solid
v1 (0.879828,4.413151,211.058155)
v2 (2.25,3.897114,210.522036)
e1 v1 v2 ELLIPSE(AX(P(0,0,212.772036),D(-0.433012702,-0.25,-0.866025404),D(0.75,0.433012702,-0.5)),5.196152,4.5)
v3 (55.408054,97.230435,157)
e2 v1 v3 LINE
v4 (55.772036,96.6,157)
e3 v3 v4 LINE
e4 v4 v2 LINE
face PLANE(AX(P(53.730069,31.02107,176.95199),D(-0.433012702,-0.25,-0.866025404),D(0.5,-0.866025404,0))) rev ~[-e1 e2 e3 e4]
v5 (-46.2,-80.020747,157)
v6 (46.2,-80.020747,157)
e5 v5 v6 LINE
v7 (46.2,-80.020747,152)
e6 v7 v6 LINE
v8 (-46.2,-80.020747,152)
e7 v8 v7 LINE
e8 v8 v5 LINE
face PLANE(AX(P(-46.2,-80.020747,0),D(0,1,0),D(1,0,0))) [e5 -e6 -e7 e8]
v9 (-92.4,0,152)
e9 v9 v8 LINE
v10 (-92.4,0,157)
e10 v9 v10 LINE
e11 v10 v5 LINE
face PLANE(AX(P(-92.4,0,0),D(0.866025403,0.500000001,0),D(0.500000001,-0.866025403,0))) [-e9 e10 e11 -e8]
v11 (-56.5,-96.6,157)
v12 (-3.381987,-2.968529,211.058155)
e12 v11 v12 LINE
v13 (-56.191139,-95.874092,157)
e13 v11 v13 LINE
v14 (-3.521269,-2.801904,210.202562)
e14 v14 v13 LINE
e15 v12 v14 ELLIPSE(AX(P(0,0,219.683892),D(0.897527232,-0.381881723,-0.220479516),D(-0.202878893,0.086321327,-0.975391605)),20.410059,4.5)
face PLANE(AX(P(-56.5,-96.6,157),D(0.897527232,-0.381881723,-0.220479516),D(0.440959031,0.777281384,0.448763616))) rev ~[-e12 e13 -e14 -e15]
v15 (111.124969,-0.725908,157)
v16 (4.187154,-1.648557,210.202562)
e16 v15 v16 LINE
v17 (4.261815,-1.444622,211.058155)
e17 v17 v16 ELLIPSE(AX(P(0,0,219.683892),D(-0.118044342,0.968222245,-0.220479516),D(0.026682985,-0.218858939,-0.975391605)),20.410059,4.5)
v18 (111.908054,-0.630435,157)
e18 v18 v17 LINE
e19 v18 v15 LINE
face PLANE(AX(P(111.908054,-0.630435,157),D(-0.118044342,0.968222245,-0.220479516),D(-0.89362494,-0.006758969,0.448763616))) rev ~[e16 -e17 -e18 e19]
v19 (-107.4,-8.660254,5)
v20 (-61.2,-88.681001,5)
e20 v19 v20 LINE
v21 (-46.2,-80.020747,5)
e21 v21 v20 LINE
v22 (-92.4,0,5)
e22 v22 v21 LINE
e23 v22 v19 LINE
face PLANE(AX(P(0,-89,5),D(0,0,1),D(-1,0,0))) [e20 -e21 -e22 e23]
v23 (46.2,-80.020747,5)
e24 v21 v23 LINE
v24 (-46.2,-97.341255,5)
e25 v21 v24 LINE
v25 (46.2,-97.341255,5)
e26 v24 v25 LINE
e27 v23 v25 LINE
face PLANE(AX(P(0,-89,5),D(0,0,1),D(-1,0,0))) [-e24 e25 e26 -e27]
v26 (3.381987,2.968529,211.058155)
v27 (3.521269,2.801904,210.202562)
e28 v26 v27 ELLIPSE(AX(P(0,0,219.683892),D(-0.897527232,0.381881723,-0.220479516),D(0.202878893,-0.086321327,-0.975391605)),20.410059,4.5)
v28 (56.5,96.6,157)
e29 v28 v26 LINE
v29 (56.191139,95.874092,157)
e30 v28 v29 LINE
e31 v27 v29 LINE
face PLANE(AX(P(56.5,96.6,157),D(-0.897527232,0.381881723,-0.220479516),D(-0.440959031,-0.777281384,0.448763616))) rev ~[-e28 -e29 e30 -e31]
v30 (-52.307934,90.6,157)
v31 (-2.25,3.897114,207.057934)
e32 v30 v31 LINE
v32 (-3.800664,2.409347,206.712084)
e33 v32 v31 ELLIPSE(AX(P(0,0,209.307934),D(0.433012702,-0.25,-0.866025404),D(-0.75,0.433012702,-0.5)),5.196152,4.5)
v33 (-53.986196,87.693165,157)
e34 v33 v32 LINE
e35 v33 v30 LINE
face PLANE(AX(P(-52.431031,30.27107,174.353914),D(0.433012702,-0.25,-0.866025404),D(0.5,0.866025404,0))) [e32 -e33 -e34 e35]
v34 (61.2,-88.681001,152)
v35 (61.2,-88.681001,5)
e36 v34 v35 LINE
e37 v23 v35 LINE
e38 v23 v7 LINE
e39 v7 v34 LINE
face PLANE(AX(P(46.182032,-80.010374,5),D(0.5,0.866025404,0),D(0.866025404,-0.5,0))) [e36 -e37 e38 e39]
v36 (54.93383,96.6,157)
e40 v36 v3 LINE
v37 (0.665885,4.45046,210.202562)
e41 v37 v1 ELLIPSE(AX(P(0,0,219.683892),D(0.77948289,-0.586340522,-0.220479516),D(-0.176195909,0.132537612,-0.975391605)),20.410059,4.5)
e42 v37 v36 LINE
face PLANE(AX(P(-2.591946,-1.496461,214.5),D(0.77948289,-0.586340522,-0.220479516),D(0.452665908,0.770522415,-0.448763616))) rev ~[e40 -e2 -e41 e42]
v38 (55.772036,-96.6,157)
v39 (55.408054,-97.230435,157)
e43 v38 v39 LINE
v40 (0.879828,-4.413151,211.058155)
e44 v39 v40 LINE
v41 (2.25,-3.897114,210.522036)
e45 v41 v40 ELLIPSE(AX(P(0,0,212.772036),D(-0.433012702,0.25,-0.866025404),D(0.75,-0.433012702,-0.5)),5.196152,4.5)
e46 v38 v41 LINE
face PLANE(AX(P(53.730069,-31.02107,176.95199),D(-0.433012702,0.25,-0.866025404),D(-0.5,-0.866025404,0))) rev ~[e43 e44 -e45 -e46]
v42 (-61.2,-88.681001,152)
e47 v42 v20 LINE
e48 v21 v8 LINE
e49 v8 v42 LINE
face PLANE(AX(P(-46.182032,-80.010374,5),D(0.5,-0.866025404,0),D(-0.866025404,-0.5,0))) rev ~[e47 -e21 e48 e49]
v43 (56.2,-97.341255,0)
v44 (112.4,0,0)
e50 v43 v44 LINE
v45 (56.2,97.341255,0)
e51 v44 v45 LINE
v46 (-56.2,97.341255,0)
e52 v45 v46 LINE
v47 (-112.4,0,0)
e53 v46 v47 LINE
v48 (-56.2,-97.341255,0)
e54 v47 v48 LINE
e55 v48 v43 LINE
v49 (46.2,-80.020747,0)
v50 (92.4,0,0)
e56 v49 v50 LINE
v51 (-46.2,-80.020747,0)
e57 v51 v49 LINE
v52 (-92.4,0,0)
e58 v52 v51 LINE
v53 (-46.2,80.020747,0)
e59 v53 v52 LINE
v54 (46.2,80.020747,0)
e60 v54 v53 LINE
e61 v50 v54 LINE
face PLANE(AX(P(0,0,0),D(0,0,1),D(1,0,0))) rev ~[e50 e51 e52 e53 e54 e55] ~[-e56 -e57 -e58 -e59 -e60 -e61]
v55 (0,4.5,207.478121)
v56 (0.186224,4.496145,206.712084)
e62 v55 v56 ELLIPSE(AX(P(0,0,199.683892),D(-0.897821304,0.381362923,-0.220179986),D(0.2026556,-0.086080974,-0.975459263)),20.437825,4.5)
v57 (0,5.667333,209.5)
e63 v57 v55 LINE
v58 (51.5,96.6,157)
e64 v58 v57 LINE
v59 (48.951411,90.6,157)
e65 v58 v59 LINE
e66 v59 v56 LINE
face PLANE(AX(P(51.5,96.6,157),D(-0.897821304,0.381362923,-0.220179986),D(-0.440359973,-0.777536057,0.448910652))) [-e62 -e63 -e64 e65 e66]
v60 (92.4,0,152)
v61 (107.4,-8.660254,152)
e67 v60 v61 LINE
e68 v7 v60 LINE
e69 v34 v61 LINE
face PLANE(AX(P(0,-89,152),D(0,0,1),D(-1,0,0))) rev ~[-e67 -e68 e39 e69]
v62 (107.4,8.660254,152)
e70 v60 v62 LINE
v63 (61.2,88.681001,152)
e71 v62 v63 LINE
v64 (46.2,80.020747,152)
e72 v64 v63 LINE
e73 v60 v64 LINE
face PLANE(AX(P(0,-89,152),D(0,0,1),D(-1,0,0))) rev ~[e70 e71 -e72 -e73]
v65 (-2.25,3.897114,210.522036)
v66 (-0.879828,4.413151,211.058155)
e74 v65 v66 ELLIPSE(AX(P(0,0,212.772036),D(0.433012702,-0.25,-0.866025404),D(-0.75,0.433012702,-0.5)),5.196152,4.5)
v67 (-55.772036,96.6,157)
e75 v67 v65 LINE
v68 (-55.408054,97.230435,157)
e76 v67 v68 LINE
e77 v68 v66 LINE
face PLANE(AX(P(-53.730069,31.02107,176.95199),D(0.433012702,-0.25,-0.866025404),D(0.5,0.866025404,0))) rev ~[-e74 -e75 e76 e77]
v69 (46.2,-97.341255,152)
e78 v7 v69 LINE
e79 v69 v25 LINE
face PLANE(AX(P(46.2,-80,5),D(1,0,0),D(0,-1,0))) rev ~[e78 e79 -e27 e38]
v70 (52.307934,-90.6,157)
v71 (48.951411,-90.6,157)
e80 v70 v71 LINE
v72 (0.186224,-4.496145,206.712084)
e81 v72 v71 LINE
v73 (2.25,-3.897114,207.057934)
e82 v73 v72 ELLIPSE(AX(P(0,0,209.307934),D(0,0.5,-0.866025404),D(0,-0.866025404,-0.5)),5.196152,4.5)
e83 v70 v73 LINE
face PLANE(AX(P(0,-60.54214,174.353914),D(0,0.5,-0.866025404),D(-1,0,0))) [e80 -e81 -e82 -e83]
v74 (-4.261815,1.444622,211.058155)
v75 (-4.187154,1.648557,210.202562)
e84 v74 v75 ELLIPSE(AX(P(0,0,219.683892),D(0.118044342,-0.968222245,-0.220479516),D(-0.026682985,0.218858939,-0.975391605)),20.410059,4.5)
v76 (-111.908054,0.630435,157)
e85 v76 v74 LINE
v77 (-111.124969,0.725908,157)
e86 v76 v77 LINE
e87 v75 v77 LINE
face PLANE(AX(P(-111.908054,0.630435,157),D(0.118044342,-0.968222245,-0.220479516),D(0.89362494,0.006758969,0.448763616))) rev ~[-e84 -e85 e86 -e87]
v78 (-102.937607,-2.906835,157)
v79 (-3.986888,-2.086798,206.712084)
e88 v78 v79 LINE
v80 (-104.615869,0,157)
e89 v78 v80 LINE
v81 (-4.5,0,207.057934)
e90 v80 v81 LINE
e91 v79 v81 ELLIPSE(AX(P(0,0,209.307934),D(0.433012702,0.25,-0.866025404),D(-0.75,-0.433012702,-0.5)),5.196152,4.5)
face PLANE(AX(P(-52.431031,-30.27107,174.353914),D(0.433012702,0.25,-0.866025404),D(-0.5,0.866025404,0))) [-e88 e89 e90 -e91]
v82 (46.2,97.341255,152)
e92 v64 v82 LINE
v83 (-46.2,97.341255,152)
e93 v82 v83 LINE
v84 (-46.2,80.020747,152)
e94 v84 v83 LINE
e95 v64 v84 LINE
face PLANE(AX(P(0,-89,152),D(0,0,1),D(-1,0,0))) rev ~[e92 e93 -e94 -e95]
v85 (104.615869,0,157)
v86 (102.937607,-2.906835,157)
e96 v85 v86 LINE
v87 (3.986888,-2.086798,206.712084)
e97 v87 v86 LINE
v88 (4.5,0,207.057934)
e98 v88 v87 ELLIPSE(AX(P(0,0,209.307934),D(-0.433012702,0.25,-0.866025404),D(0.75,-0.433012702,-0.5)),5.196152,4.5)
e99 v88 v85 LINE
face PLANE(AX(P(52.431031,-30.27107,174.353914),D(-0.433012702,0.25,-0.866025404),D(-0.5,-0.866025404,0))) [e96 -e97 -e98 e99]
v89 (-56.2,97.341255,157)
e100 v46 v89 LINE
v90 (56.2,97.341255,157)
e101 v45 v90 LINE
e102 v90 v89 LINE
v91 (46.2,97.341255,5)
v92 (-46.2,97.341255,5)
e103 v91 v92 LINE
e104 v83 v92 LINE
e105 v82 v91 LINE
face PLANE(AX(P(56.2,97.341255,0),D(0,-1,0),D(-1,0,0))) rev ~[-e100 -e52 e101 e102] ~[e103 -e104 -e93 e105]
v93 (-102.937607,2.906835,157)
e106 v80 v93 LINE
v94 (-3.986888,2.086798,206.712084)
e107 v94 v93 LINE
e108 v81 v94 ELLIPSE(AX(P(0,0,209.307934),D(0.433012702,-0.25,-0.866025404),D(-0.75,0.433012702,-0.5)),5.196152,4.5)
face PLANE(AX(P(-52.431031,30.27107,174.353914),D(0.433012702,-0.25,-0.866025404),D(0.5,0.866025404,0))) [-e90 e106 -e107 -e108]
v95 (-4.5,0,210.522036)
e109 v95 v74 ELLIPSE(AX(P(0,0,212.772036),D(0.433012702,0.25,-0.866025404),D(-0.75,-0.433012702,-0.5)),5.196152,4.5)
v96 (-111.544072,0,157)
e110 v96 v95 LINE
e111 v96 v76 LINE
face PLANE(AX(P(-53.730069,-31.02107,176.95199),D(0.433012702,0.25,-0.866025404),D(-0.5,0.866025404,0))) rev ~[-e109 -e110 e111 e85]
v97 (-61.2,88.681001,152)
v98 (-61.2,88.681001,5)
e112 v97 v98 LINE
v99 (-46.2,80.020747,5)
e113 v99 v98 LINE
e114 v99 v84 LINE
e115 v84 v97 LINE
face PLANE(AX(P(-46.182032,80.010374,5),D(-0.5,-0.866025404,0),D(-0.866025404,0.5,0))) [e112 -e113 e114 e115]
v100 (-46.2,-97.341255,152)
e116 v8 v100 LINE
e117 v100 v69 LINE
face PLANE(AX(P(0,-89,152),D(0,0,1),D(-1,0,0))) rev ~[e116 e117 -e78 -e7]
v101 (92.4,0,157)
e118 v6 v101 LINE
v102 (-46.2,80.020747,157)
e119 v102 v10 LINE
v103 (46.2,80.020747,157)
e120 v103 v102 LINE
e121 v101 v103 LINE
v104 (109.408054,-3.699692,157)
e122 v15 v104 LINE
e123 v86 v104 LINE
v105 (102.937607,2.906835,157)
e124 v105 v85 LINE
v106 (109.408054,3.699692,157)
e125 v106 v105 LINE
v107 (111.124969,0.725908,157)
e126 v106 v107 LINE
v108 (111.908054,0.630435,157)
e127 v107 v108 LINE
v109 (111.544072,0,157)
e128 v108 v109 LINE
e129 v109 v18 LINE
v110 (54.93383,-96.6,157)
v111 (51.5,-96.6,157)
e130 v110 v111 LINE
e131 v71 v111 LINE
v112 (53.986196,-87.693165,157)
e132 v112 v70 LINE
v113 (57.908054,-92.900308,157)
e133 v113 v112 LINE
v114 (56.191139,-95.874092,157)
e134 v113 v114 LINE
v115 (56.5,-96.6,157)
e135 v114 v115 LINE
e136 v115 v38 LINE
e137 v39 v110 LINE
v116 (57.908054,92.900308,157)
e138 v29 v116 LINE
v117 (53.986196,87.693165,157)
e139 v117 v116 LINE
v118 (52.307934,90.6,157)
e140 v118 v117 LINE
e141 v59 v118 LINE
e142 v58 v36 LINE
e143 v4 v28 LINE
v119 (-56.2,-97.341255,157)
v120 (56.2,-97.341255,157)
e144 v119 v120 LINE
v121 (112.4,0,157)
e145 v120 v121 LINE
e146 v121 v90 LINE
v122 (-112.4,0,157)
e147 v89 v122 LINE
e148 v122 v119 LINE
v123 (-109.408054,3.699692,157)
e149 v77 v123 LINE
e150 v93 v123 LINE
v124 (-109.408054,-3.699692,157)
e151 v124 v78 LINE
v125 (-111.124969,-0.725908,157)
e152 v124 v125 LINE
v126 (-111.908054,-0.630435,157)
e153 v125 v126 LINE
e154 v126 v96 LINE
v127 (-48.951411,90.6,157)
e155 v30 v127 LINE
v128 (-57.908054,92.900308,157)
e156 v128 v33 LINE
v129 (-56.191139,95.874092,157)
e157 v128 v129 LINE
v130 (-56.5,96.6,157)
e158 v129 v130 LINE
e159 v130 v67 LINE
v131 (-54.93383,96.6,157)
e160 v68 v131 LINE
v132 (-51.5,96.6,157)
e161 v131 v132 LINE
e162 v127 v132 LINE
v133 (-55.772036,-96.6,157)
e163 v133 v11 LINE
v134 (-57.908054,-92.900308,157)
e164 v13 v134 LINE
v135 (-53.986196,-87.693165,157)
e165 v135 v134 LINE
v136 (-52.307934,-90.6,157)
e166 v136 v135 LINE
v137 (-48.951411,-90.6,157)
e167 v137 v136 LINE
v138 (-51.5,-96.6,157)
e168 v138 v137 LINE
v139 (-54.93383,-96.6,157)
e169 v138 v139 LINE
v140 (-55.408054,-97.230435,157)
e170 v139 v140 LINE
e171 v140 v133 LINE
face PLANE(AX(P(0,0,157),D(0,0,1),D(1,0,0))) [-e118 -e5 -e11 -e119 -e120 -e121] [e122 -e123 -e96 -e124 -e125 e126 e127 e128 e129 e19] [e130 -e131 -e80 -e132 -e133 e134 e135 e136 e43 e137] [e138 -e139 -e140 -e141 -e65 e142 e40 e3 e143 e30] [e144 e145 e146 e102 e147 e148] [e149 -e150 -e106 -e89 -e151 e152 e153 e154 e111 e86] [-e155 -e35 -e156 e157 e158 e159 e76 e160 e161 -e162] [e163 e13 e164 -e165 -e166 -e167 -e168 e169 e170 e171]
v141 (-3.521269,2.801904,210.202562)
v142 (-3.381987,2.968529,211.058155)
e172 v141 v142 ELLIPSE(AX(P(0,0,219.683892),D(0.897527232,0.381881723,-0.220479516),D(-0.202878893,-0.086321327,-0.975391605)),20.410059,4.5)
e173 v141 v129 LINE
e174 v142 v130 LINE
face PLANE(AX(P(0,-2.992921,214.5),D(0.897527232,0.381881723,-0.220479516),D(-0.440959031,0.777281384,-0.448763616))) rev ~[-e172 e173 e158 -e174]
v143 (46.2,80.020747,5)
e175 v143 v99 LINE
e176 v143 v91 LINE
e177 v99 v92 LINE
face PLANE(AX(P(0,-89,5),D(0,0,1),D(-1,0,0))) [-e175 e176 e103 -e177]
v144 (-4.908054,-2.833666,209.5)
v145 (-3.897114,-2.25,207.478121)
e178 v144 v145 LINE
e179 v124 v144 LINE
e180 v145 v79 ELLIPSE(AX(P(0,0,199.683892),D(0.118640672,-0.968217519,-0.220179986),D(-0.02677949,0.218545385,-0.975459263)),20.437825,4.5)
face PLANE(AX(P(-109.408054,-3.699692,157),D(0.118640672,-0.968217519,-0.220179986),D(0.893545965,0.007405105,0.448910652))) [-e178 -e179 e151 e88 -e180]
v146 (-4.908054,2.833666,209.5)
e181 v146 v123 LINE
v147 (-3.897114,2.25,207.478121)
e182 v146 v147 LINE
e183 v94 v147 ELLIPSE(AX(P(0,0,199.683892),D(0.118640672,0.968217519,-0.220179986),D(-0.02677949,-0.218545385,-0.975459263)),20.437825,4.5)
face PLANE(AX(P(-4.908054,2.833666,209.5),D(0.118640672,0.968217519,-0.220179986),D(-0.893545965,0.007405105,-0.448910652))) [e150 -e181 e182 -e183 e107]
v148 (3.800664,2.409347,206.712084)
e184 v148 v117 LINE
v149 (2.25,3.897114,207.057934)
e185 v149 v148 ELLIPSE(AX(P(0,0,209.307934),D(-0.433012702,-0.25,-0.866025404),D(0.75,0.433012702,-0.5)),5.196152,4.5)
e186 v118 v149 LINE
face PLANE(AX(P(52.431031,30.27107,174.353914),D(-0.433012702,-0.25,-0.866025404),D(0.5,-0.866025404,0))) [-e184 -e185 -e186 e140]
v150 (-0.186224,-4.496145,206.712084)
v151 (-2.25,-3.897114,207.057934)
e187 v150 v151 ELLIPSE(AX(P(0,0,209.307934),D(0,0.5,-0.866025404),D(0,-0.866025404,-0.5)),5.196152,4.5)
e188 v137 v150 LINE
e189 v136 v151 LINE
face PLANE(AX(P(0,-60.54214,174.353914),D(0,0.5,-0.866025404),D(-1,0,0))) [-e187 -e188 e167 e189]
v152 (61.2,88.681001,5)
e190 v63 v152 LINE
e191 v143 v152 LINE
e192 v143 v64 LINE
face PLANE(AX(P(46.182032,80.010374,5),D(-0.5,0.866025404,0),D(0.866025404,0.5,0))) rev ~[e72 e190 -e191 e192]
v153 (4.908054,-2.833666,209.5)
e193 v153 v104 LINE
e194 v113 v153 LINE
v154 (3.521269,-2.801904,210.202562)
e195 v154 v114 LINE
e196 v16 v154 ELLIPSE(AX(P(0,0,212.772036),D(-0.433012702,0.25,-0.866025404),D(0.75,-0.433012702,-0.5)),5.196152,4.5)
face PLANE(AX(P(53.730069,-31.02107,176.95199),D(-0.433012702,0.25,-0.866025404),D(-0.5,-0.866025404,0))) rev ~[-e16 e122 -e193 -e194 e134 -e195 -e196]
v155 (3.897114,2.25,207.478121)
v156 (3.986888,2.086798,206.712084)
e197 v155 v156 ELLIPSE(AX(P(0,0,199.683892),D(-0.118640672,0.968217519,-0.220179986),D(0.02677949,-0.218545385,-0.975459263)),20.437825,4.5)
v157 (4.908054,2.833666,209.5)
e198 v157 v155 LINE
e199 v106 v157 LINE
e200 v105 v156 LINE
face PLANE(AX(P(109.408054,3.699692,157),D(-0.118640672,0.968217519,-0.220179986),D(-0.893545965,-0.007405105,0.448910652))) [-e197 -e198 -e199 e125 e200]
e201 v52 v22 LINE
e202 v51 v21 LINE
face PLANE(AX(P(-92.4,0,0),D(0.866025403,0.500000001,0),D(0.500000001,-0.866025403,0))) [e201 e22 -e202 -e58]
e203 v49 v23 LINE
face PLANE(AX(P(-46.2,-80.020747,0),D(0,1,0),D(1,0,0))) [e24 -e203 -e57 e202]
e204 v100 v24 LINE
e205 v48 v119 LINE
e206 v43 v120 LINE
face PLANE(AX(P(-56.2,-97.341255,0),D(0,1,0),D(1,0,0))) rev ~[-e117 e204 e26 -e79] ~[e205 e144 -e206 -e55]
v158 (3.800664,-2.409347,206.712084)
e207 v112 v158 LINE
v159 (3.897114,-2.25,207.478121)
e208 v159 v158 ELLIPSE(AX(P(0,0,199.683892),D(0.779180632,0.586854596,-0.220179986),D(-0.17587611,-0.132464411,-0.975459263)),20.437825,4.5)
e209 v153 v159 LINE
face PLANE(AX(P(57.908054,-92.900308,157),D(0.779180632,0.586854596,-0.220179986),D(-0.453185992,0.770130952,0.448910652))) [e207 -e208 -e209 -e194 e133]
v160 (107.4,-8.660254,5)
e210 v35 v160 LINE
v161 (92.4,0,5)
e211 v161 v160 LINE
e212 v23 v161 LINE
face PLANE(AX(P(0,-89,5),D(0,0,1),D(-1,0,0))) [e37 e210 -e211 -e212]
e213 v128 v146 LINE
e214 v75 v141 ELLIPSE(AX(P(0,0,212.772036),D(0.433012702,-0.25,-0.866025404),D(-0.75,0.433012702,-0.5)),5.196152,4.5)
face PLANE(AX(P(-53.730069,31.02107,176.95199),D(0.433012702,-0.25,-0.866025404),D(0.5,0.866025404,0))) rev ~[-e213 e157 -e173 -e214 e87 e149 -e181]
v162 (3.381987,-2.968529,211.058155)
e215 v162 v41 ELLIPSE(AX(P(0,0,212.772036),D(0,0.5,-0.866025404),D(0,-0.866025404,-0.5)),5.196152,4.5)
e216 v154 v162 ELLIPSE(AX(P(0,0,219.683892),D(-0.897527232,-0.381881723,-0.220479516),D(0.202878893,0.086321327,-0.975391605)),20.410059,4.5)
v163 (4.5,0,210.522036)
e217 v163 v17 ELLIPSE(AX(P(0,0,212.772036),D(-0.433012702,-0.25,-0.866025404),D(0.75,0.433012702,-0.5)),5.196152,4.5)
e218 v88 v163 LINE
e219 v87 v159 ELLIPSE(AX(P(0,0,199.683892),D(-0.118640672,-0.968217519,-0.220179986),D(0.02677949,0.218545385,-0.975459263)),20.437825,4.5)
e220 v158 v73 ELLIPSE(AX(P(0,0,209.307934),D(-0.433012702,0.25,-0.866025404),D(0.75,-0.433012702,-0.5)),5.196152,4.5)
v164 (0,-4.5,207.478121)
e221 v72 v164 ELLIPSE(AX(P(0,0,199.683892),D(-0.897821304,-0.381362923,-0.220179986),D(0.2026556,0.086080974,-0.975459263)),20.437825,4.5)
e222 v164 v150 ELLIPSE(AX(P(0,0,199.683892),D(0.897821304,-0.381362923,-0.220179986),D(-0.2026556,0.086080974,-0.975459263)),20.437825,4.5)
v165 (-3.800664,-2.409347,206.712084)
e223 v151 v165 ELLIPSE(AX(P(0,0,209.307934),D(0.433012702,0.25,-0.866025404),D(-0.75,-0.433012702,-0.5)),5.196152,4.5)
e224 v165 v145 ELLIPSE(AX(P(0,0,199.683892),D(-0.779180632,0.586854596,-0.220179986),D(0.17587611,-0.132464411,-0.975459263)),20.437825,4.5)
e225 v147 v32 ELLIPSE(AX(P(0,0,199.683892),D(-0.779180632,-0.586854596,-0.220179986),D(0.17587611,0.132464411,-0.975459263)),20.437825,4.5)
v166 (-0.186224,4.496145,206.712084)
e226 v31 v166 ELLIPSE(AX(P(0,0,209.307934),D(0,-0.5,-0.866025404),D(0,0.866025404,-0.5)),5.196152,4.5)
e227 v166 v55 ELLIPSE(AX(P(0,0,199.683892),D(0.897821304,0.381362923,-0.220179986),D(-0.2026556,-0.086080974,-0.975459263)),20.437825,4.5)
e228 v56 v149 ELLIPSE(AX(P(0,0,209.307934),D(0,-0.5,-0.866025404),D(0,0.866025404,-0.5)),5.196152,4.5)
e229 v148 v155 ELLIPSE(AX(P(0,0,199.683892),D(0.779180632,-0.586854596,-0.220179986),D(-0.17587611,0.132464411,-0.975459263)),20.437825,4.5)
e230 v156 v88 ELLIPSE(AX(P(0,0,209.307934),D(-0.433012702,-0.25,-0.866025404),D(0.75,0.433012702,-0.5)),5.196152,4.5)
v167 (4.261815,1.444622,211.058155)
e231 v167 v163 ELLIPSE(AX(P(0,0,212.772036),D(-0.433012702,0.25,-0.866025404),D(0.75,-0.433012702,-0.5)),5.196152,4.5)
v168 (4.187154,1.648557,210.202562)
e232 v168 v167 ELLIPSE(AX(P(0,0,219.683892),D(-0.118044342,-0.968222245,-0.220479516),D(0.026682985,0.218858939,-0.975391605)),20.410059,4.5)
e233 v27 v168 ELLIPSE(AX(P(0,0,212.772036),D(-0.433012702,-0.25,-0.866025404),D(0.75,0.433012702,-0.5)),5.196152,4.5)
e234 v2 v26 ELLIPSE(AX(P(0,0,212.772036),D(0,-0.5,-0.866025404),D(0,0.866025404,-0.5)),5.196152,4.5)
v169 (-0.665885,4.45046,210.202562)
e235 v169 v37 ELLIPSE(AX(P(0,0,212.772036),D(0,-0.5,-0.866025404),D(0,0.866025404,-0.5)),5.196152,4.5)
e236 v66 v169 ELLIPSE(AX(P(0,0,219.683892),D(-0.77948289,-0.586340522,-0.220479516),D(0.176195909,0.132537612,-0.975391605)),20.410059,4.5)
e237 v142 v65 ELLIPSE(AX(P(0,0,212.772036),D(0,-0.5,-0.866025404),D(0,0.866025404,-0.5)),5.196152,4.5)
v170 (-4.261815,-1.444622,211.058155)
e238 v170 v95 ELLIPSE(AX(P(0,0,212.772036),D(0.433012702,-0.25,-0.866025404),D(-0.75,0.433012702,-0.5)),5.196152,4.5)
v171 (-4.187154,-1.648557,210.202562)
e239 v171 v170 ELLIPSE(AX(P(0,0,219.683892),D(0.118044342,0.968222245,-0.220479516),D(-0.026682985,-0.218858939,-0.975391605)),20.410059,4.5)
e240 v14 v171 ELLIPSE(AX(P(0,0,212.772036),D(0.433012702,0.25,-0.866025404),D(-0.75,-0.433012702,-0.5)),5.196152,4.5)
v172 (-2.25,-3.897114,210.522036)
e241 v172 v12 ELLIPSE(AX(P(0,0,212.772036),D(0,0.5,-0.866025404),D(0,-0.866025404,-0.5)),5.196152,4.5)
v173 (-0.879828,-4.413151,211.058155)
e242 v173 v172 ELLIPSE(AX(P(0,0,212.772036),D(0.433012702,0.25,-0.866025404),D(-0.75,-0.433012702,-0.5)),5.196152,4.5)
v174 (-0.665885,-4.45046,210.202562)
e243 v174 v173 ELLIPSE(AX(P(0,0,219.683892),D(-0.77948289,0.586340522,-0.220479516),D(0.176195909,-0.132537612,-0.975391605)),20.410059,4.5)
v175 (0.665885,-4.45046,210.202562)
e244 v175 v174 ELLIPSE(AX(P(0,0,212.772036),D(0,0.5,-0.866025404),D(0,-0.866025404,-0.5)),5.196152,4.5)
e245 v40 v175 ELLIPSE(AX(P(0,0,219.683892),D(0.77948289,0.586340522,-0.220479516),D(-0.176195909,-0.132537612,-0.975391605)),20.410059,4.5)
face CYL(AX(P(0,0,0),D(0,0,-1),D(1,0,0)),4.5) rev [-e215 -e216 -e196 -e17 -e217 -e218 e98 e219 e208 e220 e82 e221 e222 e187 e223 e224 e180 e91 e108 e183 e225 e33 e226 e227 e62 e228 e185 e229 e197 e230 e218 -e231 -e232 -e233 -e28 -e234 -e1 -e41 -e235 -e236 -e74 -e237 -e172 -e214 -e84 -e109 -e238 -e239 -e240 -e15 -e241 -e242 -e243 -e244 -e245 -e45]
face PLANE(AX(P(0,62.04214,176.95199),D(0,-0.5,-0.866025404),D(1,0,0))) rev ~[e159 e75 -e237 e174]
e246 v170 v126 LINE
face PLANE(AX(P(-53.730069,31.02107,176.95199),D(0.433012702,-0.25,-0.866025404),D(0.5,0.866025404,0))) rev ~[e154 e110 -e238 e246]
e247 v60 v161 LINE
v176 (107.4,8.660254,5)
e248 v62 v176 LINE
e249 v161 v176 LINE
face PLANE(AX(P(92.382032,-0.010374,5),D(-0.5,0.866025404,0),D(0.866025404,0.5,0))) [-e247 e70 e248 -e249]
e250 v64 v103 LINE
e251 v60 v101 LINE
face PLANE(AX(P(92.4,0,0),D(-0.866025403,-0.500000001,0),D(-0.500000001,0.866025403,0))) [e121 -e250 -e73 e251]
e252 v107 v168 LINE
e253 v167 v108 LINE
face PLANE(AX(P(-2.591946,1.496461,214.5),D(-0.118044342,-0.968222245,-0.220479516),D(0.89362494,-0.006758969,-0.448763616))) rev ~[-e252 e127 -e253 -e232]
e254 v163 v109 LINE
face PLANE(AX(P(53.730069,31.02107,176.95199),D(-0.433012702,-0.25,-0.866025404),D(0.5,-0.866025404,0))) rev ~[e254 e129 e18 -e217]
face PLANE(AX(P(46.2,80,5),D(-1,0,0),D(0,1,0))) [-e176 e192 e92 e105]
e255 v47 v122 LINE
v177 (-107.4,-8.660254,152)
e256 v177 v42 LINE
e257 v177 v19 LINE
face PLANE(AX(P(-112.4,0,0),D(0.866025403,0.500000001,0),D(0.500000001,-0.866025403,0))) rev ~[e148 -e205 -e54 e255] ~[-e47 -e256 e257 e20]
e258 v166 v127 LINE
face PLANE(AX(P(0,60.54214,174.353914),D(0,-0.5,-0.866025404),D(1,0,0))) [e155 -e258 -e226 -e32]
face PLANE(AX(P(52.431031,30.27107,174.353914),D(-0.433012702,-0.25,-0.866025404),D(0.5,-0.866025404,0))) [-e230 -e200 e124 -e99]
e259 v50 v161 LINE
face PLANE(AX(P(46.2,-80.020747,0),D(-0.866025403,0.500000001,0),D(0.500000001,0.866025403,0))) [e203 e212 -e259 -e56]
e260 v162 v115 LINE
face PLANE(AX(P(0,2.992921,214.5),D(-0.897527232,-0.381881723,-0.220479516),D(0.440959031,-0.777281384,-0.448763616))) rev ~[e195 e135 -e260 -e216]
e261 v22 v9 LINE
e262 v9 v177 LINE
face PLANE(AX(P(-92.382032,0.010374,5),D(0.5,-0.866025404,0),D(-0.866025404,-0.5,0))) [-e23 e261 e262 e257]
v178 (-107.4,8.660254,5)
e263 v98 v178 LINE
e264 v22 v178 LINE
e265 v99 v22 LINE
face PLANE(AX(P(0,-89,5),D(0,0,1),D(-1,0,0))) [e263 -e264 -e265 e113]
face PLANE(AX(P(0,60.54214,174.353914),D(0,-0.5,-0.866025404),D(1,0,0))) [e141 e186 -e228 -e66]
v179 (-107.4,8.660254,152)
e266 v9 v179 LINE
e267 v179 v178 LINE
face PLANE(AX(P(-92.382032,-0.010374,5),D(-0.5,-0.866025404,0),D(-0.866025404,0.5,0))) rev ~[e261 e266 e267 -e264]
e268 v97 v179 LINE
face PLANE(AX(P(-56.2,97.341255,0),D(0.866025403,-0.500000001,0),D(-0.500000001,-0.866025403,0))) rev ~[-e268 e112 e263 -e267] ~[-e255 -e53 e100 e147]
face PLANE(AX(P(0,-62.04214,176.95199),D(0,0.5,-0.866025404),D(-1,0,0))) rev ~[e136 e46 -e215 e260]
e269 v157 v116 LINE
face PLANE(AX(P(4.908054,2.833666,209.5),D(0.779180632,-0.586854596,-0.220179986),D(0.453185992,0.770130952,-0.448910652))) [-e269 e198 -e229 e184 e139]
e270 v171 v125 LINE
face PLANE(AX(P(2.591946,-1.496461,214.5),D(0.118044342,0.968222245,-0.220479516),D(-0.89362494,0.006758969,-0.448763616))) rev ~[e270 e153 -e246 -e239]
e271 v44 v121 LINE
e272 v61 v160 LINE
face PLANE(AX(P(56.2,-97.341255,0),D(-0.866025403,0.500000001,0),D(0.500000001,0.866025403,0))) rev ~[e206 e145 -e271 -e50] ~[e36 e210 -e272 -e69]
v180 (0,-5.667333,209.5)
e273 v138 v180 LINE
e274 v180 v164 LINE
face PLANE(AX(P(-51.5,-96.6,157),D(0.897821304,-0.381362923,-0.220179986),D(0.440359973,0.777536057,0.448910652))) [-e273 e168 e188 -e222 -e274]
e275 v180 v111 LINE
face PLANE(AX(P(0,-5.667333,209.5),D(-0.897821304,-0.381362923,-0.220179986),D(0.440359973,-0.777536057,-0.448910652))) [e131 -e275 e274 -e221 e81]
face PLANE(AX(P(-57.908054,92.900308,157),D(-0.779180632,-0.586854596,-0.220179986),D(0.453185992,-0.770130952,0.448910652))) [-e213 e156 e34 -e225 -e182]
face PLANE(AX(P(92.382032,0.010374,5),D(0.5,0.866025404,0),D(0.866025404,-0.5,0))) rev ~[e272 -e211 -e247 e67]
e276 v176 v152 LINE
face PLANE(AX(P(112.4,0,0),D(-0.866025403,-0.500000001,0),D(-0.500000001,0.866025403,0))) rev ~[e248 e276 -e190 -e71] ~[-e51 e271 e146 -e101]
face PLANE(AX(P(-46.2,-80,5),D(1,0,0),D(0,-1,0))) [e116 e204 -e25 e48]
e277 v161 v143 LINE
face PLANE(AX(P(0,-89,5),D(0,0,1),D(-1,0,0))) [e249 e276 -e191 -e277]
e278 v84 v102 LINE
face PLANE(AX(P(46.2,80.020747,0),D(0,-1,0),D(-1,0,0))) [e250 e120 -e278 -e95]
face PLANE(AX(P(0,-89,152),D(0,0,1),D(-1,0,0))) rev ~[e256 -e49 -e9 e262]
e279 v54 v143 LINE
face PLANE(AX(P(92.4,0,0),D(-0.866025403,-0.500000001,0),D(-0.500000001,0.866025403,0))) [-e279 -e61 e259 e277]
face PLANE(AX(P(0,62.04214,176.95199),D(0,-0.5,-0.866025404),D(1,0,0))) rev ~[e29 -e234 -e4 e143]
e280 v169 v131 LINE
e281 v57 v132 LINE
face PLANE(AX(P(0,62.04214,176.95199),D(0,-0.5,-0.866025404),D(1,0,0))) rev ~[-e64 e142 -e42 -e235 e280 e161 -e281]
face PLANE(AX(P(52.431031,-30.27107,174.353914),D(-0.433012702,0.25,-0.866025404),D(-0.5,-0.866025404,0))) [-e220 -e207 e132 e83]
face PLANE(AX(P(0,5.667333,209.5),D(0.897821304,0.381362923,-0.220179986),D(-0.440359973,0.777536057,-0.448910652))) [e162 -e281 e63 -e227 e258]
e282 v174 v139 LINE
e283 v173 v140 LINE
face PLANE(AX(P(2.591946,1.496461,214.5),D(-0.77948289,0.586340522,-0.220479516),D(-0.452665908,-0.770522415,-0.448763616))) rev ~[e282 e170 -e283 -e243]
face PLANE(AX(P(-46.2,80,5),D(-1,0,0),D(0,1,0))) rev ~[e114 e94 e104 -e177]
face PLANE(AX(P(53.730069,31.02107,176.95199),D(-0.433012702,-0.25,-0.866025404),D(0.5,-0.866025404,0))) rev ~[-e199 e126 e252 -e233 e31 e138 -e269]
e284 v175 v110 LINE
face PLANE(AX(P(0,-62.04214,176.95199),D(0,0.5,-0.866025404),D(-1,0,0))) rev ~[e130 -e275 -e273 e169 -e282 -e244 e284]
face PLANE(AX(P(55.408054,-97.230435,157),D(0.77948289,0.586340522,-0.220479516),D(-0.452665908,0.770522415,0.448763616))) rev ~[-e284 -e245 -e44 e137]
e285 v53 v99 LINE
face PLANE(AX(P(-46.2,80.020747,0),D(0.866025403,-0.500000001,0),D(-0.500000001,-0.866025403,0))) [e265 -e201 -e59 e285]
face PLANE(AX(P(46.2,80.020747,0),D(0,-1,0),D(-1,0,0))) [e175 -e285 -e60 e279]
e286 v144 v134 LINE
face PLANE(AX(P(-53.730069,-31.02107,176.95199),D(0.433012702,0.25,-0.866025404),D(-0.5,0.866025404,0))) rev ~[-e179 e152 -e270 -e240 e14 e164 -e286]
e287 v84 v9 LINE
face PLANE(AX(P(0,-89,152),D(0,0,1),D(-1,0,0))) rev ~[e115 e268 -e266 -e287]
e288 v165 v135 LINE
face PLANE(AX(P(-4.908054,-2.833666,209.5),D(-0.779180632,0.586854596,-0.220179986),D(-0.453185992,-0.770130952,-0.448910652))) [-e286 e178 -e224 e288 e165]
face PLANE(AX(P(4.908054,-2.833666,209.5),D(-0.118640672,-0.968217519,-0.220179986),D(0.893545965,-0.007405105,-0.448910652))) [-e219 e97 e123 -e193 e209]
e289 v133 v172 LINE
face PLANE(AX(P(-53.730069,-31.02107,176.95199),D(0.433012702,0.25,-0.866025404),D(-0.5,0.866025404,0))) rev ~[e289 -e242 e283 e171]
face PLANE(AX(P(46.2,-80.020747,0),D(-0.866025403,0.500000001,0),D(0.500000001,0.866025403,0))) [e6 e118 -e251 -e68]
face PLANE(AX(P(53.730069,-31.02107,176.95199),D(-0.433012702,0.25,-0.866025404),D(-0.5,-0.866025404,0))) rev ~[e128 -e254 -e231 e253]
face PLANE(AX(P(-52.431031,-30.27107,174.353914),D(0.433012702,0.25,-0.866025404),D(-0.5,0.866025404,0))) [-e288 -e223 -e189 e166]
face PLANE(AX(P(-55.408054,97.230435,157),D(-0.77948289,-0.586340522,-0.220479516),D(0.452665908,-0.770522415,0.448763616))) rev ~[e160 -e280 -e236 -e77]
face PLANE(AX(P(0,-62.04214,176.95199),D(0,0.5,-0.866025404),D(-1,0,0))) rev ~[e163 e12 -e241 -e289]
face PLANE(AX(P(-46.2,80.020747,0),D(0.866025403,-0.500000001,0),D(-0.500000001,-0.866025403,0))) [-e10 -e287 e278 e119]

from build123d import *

# Parameters (mm, degrees)
CYLINDER_R                  = 4.5
CYLINDER_DEPTH              = 1000
PAD004_DEPTH                = 3
BODY004_PLACEMENT_ANGLE     = 60
PAD003_DEPTH                = 3
BODY003_PLACEMENT_ANGLE     = 60
PAD006_DEPTH                = 3
BODY006_PLACEMENT_ANGLE     = 60
PAD005_DEPTH                = 3
BODY005_PLACEMENT_ANGLE     = 60
CUT003_PLACEMENT_ANGLE      = 60
PAD008_DEPTH                = 3
BODY008_PLACEMENT_ANGLE     = 60
PAD007_DEPTH                = 3
BODY007_PLACEMENT_ANGLE     = 60
CUT004_PLACEMENT_ANGLE      = 120
PAD010_DEPTH                = 3
BODY010_PLACEMENT_ANGLE     = 60
PAD009_DEPTH                = 3
BODY009_PLACEMENT_ANGLE     = 60
CUT005_PLACEMENT_ANGLE      = 180
PAD012_DEPTH                = 3
BODY012_PLACEMENT_ANGLE     = 60
PAD011_DEPTH                = 3
BODY011_PLACEMENT_ANGLE     = 60
CUT006_PLACEMENT_ANGLE      = 240
PAD014_DEPTH                = 3
BODY014_PLACEMENT_ANGLE     = 60
PAD013_DEPTH                = 3
BODY013_PLACEMENT_ANGLE     = 60
CUT007_PLACEMENT_ANGLE      = 300
BOX_W                       = 92.4
BOX_H                       = 18
BOX_DEPTH                   = 147
BOX001_W                    = 92.4
BOX001_H                    = 18
BOX001_DEPTH                = 147
COMPOUND001_PLACEMENT_ANGLE = 60
BOX002_W                    = 92.4
BOX002_H                    = 18
BOX002_DEPTH                = 147
COMPOUND002_PLACEMENT_ANGLE = 120
BOX003_W                    = 92.4
BOX003_H                    = 18
BOX003_DEPTH                = 147
COMPOUND003_PLACEMENT_ANGLE = 180
BOX004_W                    = 92.4
BOX004_H                    = 18
BOX004_DEPTH                = 147
COMPOUND004_PLACEMENT_ANGLE = 240
BOX005_W                    = 92.4
BOX005_H                    = 18
BOX005_DEPTH                = 147
COMPOUND005_PLACEMENT_ANGLE = 300
PAD001_DEPTH                = 157
PAD_DEPTH                   = 157


with BuildPart() as cylinder:
    # Cylinder → Cylinder (new body)
    with BuildSketch(Plane.XY):
        Circle(CYLINDER_R)
    extrude(amount=CYLINDER_DEPTH)


with BuildPart() as compound007:
    # Sketch004 → Pad004 (new body)
    with BuildSketch(Plane.XZ):
        Polygon((-51.5, 0), (51.5, 0), (0, 105), align=None)
    extrude(amount=PAD004_DEPTH)


with BuildPart() as compound007_1:
    # Body004 placement: moved
    add(compound007.part.moved(Location((0, 96.6, 157))).rotate(Axis((0, 96.6, 157), (1, 0, 0)), BODY004_PLACEMENT_ANGLE))


with BuildPart() as cut002:
    # Sketch003 → Pad003 (new body)
    with BuildSketch(Plane.XZ):
        Polygon((-56.5, 0), (56.5, 0), (0, 115), align=None)
    extrude(amount=PAD003_DEPTH)


with BuildPart() as cut002_1:
    # Body003 placement: moved
    add(cut002.part.moved(Location((0, 96.6, 157))).rotate(Axis((0, 96.6, 157), (1, 0, 0)), BODY003_PLACEMENT_ANGLE))

    # Cut002: cut Compound007
    add(compound007_1.part, mode=Mode.SUBTRACT)


with BuildPart() as compound009:
    # Sketch006 → Pad006 (new body)
    with BuildSketch(Plane.XZ):
        Polygon((-51.5, 0), (51.5, 0), (0, 105), align=None)
    extrude(amount=PAD006_DEPTH)


with BuildPart() as compound009_1:
    # Body006 placement: moved
    add(compound009.part.moved(Location((0, 96.6, 157))).rotate(Axis((0, 96.6, 157), (1, 0, 0)), BODY006_PLACEMENT_ANGLE))


with BuildPart() as cut003:
    # Sketch005 → Pad005 (new body)
    with BuildSketch(Plane.XZ):
        Polygon((-56.5, 0), (56.5, 0), (0, 115), align=None)
    extrude(amount=PAD005_DEPTH)


with BuildPart() as cut003_1:
    # Body005 placement: moved
    add(cut003.part.moved(Location((0, 96.6, 157))).rotate(Axis((0, 96.6, 157), (1, 0, 0)), BODY005_PLACEMENT_ANGLE))

    # Cut003: cut Compound009
    add(compound009_1.part, mode=Mode.SUBTRACT)


with BuildPart() as cut003_2:
    # Cut003 placement: moved
    add(cut003_1.part.rotate(Axis((0, 0, 0), (0, 0, 1)), CUT003_PLACEMENT_ANGLE))


with BuildPart() as compound011:
    # Sketch008 → Pad008 (new body)
    with BuildSketch(Plane.XZ):
        Polygon((-51.5, 0), (51.5, 0), (0, 105), align=None)
    extrude(amount=PAD008_DEPTH)


with BuildPart() as compound011_1:
    # Body008 placement: moved
    add(compound011.part.moved(Location((0, 96.6, 157))).rotate(Axis((0, 96.6, 157), (1, 0, 0)), BODY008_PLACEMENT_ANGLE))


with BuildPart() as cut004:
    # Sketch007 → Pad007 (new body)
    with BuildSketch(Plane.XZ):
        Polygon((-56.5, 0), (56.5, 0), (0, 115), align=None)
    extrude(amount=PAD007_DEPTH)


with BuildPart() as cut004_1:
    # Body007 placement: moved
    add(cut004.part.moved(Location((0, 96.6, 157))).rotate(Axis((0, 96.6, 157), (1, 0, 0)), BODY007_PLACEMENT_ANGLE))

    # Cut004: cut Compound011
    add(compound011_1.part, mode=Mode.SUBTRACT)


with BuildPart() as cut004_2:
    # Cut004 placement: moved
    add(cut004_1.part.rotate(Axis((0, 0, 0), (0, 0, 1)), CUT004_PLACEMENT_ANGLE))


with BuildPart() as compound013:
    # Sketch010 → Pad010 (new body)
    with BuildSketch(Plane.XZ):
        Polygon((-51.5, 0), (51.5, 0), (0, 105), align=None)
    extrude(amount=PAD010_DEPTH)


with BuildPart() as compound013_1:
    # Body010 placement: moved
    add(compound013.part.moved(Location((0, 96.6, 157))).rotate(Axis((0, 96.6, 157), (1, 0, 0)), BODY010_PLACEMENT_ANGLE))


with BuildPart() as cut005:
    # Sketch009 → Pad009 (new body)
    with BuildSketch(Plane.XZ):
        Polygon((-56.5, 0), (56.5, 0), (0, 115), align=None)
    extrude(amount=PAD009_DEPTH)


with BuildPart() as cut005_1:
    # Body009 placement: moved
    add(cut005.part.moved(Location((0, 96.6, 157))).rotate(Axis((0, 96.6, 157), (1, 0, 0)), BODY009_PLACEMENT_ANGLE))

    # Cut005: cut Compound013
    add(compound013_1.part, mode=Mode.SUBTRACT)


with BuildPart() as cut005_2:
    # Cut005 placement: moved
    add(cut005_1.part.rotate(Axis((0, 0, 0), (0, 0, 1)), CUT005_PLACEMENT_ANGLE))


with BuildPart() as compound015:
    # Sketch012 → Pad012 (new body)
    with BuildSketch(Plane.XZ):
        Polygon((-51.5, 0), (51.5, 0), (0, 105), align=None)
    extrude(amount=PAD012_DEPTH)


with BuildPart() as compound015_1:
    # Body012 placement: moved
    add(compound015.part.moved(Location((0, 96.6, 157))).rotate(Axis((0, 96.6, 157), (1, 0, 0)), BODY012_PLACEMENT_ANGLE))


with BuildPart() as cut006:
    # Sketch011 → Pad011 (new body)
    with BuildSketch(Plane.XZ):
        Polygon((-56.5, 0), (56.5, 0), (0, 115), align=None)
    extrude(amount=PAD011_DEPTH)


with BuildPart() as cut006_1:
    # Body011 placement: moved
    add(cut006.part.moved(Location((0, 96.6, 157))).rotate(Axis((0, 96.6, 157), (1, 0, 0)), BODY011_PLACEMENT_ANGLE))

    # Cut006: cut Compound015
    add(compound015_1.part, mode=Mode.SUBTRACT)


with BuildPart() as cut006_2:
    # Cut006 placement: moved
    add(cut006_1.part.rotate(Axis((0, 0, 0), (0, 0, 1)), CUT006_PLACEMENT_ANGLE))


with BuildPart() as compound017:
    # Sketch014 → Pad014 (new body)
    with BuildSketch(Plane.XZ):
        Polygon((-51.5, 0), (51.5, 0), (0, 105), align=None)
    extrude(amount=PAD014_DEPTH)


with BuildPart() as compound017_1:
    # Body014 placement: moved
    add(compound017.part.moved(Location((0, 96.6, 157))).rotate(Axis((0, 96.6, 157), (1, 0, 0)), BODY014_PLACEMENT_ANGLE))


with BuildPart() as cut008:
    # Sketch013 → Pad013 (new body)
    with BuildSketch(Plane.XZ):
        Polygon((-56.5, 0), (56.5, 0), (0, 115), align=None)
    extrude(amount=PAD013_DEPTH)


with BuildPart() as cut008_1:
    # Body013 placement: moved
    add(cut008.part.moved(Location((0, 96.6, 157))).rotate(Axis((0, 96.6, 157), (1, 0, 0)), BODY013_PLACEMENT_ANGLE))

    # Cut007: cut Compound017
    add(compound017_1.part, mode=Mode.SUBTRACT)


with BuildPart() as cut008_2:
    # Cut007 placement: moved
    add(cut008_1.part.rotate(Axis((0, 0, 0), (0, 0, 1)), CUT007_PLACEMENT_ANGLE))

    # Fusion001: union Cut002, Cut003, Cut004, Cut005, Cut006
    add(cut002_1.part)
    add(cut003_2.part)
    add(cut004_2.part)
    add(cut005_2.part)
    add(cut006_2.part)

    # Cut008: cut Cylinder
    add(cylinder.part, mode=Mode.SUBTRACT)


with BuildPart() as compound:
    # Box → Box (new body)
    with BuildSketch(Plane(origin=(-46.2, 80, 5), x_dir=(1, 0, 0), z_dir=(0, 0, 1))):
        with Locations((46.2, 9)):
            Rectangle(BOX_W, BOX_H)
    extrude(amount=BOX_DEPTH)


with BuildPart() as compound001:
    # Box001 → Box001 (new body)
    with BuildSketch(Plane(origin=(-46.2, 80, 5), x_dir=(1, 0, 0), z_dir=(0, 0, 1))):
        with Locations((46.2, 9)):
            Rectangle(BOX001_W, BOX001_H)
    extrude(amount=BOX001_DEPTH)


with BuildPart() as compound001_1:
    # Compound001 placement: moved
    add(compound001.part.rotate(Axis((0, 0, 0), (0, 0, 1)), COMPOUND001_PLACEMENT_ANGLE))


with BuildPart() as compound002:
    # Box002 → Box002 (new body)
    with BuildSketch(Plane(origin=(-46.2, 80, 5), x_dir=(1, 0, 0), z_dir=(0, 0, 1))):
        with Locations((46.2, 9)):
            Rectangle(BOX002_W, BOX002_H)
    extrude(amount=BOX002_DEPTH)


with BuildPart() as compound002_1:
    # Compound002 placement: moved
    add(compound002.part.rotate(Axis((0, 0, 0), (0, 0, 1)), COMPOUND002_PLACEMENT_ANGLE))


with BuildPart() as compound003:
    # Box003 → Box003 (new body)
    with BuildSketch(Plane(origin=(-46.2, 80, 5), x_dir=(1, 0, 0), z_dir=(0, 0, 1))):
        with Locations((46.2, 9)):
            Rectangle(BOX003_W, BOX003_H)
    extrude(amount=BOX003_DEPTH)


with BuildPart() as compound003_1:
    # Compound003 placement: moved
    add(compound003.part.rotate(Axis((0, 0, 0), (0, 0, 1)), COMPOUND003_PLACEMENT_ANGLE))


with BuildPart() as compound004:
    # Box004 → Box004 (new body)
    with BuildSketch(Plane(origin=(-46.2, 80, 5), x_dir=(1, 0, 0), z_dir=(0, 0, 1))):
        with Locations((46.2, 9)):
            Rectangle(BOX004_W, BOX004_H)
    extrude(amount=BOX004_DEPTH)


with BuildPart() as compound004_1:
    # Compound004 placement: moved
    add(compound004.part.rotate(Axis((0, 0, 0), (0, 0, 1)), COMPOUND004_PLACEMENT_ANGLE))


with BuildPart() as fusion:
    # Box005 → Box005 (new body)
    with BuildSketch(Plane(origin=(-46.2, 80, 5), x_dir=(1, 0, 0), z_dir=(0, 0, 1))):
        with Locations((46.2, 9)):
            Rectangle(BOX005_W, BOX005_H)
    extrude(amount=BOX005_DEPTH)


with BuildPart() as fusion_1:
    # Compound005 placement: moved
    add(fusion.part.rotate(Axis((0, 0, 0), (0, 0, 1)), COMPOUND005_PLACEMENT_ANGLE))

    # Fusion: union Compound, Compound001, Compound002, Compound003, Compound004
    add(compound.part)
    add(compound001_1.part)
    add(compound002_1.part)
    add(compound003_1.part)
    add(compound004_1.part)


with BuildPart() as body001:
    # Sketch001 → Pad001 (new body)
    with BuildSketch(Plane.XY):
        Polygon((92.4, 0), (46.2, 80.020747), (-46.2, 80.020747), (-92.4, 0), (-46.2, -80.020747), (46.2, -80.020747), align=None)
    extrude(amount=PAD001_DEPTH)


with BuildPart() as fusion002:
    # Sketch → Pad (new body)
    with BuildSketch(Plane.XY):
        Polygon((112.4, 0), (56.2, 97.341255), (-56.2, 97.341255), (-112.4, 0), (-56.2, -97.341255), (56.2, -97.341255), align=None)
    extrude(amount=PAD_DEPTH)

    # Cut: cut Body001
    add(body001.part, mode=Mode.SUBTRACT)

    # Cut001: cut Fusion
    add(fusion_1.part, mode=Mode.SUBTRACT)

    # Fusion002: union Cut008
    add(cut008_2.part)


solid = fusion002.part
